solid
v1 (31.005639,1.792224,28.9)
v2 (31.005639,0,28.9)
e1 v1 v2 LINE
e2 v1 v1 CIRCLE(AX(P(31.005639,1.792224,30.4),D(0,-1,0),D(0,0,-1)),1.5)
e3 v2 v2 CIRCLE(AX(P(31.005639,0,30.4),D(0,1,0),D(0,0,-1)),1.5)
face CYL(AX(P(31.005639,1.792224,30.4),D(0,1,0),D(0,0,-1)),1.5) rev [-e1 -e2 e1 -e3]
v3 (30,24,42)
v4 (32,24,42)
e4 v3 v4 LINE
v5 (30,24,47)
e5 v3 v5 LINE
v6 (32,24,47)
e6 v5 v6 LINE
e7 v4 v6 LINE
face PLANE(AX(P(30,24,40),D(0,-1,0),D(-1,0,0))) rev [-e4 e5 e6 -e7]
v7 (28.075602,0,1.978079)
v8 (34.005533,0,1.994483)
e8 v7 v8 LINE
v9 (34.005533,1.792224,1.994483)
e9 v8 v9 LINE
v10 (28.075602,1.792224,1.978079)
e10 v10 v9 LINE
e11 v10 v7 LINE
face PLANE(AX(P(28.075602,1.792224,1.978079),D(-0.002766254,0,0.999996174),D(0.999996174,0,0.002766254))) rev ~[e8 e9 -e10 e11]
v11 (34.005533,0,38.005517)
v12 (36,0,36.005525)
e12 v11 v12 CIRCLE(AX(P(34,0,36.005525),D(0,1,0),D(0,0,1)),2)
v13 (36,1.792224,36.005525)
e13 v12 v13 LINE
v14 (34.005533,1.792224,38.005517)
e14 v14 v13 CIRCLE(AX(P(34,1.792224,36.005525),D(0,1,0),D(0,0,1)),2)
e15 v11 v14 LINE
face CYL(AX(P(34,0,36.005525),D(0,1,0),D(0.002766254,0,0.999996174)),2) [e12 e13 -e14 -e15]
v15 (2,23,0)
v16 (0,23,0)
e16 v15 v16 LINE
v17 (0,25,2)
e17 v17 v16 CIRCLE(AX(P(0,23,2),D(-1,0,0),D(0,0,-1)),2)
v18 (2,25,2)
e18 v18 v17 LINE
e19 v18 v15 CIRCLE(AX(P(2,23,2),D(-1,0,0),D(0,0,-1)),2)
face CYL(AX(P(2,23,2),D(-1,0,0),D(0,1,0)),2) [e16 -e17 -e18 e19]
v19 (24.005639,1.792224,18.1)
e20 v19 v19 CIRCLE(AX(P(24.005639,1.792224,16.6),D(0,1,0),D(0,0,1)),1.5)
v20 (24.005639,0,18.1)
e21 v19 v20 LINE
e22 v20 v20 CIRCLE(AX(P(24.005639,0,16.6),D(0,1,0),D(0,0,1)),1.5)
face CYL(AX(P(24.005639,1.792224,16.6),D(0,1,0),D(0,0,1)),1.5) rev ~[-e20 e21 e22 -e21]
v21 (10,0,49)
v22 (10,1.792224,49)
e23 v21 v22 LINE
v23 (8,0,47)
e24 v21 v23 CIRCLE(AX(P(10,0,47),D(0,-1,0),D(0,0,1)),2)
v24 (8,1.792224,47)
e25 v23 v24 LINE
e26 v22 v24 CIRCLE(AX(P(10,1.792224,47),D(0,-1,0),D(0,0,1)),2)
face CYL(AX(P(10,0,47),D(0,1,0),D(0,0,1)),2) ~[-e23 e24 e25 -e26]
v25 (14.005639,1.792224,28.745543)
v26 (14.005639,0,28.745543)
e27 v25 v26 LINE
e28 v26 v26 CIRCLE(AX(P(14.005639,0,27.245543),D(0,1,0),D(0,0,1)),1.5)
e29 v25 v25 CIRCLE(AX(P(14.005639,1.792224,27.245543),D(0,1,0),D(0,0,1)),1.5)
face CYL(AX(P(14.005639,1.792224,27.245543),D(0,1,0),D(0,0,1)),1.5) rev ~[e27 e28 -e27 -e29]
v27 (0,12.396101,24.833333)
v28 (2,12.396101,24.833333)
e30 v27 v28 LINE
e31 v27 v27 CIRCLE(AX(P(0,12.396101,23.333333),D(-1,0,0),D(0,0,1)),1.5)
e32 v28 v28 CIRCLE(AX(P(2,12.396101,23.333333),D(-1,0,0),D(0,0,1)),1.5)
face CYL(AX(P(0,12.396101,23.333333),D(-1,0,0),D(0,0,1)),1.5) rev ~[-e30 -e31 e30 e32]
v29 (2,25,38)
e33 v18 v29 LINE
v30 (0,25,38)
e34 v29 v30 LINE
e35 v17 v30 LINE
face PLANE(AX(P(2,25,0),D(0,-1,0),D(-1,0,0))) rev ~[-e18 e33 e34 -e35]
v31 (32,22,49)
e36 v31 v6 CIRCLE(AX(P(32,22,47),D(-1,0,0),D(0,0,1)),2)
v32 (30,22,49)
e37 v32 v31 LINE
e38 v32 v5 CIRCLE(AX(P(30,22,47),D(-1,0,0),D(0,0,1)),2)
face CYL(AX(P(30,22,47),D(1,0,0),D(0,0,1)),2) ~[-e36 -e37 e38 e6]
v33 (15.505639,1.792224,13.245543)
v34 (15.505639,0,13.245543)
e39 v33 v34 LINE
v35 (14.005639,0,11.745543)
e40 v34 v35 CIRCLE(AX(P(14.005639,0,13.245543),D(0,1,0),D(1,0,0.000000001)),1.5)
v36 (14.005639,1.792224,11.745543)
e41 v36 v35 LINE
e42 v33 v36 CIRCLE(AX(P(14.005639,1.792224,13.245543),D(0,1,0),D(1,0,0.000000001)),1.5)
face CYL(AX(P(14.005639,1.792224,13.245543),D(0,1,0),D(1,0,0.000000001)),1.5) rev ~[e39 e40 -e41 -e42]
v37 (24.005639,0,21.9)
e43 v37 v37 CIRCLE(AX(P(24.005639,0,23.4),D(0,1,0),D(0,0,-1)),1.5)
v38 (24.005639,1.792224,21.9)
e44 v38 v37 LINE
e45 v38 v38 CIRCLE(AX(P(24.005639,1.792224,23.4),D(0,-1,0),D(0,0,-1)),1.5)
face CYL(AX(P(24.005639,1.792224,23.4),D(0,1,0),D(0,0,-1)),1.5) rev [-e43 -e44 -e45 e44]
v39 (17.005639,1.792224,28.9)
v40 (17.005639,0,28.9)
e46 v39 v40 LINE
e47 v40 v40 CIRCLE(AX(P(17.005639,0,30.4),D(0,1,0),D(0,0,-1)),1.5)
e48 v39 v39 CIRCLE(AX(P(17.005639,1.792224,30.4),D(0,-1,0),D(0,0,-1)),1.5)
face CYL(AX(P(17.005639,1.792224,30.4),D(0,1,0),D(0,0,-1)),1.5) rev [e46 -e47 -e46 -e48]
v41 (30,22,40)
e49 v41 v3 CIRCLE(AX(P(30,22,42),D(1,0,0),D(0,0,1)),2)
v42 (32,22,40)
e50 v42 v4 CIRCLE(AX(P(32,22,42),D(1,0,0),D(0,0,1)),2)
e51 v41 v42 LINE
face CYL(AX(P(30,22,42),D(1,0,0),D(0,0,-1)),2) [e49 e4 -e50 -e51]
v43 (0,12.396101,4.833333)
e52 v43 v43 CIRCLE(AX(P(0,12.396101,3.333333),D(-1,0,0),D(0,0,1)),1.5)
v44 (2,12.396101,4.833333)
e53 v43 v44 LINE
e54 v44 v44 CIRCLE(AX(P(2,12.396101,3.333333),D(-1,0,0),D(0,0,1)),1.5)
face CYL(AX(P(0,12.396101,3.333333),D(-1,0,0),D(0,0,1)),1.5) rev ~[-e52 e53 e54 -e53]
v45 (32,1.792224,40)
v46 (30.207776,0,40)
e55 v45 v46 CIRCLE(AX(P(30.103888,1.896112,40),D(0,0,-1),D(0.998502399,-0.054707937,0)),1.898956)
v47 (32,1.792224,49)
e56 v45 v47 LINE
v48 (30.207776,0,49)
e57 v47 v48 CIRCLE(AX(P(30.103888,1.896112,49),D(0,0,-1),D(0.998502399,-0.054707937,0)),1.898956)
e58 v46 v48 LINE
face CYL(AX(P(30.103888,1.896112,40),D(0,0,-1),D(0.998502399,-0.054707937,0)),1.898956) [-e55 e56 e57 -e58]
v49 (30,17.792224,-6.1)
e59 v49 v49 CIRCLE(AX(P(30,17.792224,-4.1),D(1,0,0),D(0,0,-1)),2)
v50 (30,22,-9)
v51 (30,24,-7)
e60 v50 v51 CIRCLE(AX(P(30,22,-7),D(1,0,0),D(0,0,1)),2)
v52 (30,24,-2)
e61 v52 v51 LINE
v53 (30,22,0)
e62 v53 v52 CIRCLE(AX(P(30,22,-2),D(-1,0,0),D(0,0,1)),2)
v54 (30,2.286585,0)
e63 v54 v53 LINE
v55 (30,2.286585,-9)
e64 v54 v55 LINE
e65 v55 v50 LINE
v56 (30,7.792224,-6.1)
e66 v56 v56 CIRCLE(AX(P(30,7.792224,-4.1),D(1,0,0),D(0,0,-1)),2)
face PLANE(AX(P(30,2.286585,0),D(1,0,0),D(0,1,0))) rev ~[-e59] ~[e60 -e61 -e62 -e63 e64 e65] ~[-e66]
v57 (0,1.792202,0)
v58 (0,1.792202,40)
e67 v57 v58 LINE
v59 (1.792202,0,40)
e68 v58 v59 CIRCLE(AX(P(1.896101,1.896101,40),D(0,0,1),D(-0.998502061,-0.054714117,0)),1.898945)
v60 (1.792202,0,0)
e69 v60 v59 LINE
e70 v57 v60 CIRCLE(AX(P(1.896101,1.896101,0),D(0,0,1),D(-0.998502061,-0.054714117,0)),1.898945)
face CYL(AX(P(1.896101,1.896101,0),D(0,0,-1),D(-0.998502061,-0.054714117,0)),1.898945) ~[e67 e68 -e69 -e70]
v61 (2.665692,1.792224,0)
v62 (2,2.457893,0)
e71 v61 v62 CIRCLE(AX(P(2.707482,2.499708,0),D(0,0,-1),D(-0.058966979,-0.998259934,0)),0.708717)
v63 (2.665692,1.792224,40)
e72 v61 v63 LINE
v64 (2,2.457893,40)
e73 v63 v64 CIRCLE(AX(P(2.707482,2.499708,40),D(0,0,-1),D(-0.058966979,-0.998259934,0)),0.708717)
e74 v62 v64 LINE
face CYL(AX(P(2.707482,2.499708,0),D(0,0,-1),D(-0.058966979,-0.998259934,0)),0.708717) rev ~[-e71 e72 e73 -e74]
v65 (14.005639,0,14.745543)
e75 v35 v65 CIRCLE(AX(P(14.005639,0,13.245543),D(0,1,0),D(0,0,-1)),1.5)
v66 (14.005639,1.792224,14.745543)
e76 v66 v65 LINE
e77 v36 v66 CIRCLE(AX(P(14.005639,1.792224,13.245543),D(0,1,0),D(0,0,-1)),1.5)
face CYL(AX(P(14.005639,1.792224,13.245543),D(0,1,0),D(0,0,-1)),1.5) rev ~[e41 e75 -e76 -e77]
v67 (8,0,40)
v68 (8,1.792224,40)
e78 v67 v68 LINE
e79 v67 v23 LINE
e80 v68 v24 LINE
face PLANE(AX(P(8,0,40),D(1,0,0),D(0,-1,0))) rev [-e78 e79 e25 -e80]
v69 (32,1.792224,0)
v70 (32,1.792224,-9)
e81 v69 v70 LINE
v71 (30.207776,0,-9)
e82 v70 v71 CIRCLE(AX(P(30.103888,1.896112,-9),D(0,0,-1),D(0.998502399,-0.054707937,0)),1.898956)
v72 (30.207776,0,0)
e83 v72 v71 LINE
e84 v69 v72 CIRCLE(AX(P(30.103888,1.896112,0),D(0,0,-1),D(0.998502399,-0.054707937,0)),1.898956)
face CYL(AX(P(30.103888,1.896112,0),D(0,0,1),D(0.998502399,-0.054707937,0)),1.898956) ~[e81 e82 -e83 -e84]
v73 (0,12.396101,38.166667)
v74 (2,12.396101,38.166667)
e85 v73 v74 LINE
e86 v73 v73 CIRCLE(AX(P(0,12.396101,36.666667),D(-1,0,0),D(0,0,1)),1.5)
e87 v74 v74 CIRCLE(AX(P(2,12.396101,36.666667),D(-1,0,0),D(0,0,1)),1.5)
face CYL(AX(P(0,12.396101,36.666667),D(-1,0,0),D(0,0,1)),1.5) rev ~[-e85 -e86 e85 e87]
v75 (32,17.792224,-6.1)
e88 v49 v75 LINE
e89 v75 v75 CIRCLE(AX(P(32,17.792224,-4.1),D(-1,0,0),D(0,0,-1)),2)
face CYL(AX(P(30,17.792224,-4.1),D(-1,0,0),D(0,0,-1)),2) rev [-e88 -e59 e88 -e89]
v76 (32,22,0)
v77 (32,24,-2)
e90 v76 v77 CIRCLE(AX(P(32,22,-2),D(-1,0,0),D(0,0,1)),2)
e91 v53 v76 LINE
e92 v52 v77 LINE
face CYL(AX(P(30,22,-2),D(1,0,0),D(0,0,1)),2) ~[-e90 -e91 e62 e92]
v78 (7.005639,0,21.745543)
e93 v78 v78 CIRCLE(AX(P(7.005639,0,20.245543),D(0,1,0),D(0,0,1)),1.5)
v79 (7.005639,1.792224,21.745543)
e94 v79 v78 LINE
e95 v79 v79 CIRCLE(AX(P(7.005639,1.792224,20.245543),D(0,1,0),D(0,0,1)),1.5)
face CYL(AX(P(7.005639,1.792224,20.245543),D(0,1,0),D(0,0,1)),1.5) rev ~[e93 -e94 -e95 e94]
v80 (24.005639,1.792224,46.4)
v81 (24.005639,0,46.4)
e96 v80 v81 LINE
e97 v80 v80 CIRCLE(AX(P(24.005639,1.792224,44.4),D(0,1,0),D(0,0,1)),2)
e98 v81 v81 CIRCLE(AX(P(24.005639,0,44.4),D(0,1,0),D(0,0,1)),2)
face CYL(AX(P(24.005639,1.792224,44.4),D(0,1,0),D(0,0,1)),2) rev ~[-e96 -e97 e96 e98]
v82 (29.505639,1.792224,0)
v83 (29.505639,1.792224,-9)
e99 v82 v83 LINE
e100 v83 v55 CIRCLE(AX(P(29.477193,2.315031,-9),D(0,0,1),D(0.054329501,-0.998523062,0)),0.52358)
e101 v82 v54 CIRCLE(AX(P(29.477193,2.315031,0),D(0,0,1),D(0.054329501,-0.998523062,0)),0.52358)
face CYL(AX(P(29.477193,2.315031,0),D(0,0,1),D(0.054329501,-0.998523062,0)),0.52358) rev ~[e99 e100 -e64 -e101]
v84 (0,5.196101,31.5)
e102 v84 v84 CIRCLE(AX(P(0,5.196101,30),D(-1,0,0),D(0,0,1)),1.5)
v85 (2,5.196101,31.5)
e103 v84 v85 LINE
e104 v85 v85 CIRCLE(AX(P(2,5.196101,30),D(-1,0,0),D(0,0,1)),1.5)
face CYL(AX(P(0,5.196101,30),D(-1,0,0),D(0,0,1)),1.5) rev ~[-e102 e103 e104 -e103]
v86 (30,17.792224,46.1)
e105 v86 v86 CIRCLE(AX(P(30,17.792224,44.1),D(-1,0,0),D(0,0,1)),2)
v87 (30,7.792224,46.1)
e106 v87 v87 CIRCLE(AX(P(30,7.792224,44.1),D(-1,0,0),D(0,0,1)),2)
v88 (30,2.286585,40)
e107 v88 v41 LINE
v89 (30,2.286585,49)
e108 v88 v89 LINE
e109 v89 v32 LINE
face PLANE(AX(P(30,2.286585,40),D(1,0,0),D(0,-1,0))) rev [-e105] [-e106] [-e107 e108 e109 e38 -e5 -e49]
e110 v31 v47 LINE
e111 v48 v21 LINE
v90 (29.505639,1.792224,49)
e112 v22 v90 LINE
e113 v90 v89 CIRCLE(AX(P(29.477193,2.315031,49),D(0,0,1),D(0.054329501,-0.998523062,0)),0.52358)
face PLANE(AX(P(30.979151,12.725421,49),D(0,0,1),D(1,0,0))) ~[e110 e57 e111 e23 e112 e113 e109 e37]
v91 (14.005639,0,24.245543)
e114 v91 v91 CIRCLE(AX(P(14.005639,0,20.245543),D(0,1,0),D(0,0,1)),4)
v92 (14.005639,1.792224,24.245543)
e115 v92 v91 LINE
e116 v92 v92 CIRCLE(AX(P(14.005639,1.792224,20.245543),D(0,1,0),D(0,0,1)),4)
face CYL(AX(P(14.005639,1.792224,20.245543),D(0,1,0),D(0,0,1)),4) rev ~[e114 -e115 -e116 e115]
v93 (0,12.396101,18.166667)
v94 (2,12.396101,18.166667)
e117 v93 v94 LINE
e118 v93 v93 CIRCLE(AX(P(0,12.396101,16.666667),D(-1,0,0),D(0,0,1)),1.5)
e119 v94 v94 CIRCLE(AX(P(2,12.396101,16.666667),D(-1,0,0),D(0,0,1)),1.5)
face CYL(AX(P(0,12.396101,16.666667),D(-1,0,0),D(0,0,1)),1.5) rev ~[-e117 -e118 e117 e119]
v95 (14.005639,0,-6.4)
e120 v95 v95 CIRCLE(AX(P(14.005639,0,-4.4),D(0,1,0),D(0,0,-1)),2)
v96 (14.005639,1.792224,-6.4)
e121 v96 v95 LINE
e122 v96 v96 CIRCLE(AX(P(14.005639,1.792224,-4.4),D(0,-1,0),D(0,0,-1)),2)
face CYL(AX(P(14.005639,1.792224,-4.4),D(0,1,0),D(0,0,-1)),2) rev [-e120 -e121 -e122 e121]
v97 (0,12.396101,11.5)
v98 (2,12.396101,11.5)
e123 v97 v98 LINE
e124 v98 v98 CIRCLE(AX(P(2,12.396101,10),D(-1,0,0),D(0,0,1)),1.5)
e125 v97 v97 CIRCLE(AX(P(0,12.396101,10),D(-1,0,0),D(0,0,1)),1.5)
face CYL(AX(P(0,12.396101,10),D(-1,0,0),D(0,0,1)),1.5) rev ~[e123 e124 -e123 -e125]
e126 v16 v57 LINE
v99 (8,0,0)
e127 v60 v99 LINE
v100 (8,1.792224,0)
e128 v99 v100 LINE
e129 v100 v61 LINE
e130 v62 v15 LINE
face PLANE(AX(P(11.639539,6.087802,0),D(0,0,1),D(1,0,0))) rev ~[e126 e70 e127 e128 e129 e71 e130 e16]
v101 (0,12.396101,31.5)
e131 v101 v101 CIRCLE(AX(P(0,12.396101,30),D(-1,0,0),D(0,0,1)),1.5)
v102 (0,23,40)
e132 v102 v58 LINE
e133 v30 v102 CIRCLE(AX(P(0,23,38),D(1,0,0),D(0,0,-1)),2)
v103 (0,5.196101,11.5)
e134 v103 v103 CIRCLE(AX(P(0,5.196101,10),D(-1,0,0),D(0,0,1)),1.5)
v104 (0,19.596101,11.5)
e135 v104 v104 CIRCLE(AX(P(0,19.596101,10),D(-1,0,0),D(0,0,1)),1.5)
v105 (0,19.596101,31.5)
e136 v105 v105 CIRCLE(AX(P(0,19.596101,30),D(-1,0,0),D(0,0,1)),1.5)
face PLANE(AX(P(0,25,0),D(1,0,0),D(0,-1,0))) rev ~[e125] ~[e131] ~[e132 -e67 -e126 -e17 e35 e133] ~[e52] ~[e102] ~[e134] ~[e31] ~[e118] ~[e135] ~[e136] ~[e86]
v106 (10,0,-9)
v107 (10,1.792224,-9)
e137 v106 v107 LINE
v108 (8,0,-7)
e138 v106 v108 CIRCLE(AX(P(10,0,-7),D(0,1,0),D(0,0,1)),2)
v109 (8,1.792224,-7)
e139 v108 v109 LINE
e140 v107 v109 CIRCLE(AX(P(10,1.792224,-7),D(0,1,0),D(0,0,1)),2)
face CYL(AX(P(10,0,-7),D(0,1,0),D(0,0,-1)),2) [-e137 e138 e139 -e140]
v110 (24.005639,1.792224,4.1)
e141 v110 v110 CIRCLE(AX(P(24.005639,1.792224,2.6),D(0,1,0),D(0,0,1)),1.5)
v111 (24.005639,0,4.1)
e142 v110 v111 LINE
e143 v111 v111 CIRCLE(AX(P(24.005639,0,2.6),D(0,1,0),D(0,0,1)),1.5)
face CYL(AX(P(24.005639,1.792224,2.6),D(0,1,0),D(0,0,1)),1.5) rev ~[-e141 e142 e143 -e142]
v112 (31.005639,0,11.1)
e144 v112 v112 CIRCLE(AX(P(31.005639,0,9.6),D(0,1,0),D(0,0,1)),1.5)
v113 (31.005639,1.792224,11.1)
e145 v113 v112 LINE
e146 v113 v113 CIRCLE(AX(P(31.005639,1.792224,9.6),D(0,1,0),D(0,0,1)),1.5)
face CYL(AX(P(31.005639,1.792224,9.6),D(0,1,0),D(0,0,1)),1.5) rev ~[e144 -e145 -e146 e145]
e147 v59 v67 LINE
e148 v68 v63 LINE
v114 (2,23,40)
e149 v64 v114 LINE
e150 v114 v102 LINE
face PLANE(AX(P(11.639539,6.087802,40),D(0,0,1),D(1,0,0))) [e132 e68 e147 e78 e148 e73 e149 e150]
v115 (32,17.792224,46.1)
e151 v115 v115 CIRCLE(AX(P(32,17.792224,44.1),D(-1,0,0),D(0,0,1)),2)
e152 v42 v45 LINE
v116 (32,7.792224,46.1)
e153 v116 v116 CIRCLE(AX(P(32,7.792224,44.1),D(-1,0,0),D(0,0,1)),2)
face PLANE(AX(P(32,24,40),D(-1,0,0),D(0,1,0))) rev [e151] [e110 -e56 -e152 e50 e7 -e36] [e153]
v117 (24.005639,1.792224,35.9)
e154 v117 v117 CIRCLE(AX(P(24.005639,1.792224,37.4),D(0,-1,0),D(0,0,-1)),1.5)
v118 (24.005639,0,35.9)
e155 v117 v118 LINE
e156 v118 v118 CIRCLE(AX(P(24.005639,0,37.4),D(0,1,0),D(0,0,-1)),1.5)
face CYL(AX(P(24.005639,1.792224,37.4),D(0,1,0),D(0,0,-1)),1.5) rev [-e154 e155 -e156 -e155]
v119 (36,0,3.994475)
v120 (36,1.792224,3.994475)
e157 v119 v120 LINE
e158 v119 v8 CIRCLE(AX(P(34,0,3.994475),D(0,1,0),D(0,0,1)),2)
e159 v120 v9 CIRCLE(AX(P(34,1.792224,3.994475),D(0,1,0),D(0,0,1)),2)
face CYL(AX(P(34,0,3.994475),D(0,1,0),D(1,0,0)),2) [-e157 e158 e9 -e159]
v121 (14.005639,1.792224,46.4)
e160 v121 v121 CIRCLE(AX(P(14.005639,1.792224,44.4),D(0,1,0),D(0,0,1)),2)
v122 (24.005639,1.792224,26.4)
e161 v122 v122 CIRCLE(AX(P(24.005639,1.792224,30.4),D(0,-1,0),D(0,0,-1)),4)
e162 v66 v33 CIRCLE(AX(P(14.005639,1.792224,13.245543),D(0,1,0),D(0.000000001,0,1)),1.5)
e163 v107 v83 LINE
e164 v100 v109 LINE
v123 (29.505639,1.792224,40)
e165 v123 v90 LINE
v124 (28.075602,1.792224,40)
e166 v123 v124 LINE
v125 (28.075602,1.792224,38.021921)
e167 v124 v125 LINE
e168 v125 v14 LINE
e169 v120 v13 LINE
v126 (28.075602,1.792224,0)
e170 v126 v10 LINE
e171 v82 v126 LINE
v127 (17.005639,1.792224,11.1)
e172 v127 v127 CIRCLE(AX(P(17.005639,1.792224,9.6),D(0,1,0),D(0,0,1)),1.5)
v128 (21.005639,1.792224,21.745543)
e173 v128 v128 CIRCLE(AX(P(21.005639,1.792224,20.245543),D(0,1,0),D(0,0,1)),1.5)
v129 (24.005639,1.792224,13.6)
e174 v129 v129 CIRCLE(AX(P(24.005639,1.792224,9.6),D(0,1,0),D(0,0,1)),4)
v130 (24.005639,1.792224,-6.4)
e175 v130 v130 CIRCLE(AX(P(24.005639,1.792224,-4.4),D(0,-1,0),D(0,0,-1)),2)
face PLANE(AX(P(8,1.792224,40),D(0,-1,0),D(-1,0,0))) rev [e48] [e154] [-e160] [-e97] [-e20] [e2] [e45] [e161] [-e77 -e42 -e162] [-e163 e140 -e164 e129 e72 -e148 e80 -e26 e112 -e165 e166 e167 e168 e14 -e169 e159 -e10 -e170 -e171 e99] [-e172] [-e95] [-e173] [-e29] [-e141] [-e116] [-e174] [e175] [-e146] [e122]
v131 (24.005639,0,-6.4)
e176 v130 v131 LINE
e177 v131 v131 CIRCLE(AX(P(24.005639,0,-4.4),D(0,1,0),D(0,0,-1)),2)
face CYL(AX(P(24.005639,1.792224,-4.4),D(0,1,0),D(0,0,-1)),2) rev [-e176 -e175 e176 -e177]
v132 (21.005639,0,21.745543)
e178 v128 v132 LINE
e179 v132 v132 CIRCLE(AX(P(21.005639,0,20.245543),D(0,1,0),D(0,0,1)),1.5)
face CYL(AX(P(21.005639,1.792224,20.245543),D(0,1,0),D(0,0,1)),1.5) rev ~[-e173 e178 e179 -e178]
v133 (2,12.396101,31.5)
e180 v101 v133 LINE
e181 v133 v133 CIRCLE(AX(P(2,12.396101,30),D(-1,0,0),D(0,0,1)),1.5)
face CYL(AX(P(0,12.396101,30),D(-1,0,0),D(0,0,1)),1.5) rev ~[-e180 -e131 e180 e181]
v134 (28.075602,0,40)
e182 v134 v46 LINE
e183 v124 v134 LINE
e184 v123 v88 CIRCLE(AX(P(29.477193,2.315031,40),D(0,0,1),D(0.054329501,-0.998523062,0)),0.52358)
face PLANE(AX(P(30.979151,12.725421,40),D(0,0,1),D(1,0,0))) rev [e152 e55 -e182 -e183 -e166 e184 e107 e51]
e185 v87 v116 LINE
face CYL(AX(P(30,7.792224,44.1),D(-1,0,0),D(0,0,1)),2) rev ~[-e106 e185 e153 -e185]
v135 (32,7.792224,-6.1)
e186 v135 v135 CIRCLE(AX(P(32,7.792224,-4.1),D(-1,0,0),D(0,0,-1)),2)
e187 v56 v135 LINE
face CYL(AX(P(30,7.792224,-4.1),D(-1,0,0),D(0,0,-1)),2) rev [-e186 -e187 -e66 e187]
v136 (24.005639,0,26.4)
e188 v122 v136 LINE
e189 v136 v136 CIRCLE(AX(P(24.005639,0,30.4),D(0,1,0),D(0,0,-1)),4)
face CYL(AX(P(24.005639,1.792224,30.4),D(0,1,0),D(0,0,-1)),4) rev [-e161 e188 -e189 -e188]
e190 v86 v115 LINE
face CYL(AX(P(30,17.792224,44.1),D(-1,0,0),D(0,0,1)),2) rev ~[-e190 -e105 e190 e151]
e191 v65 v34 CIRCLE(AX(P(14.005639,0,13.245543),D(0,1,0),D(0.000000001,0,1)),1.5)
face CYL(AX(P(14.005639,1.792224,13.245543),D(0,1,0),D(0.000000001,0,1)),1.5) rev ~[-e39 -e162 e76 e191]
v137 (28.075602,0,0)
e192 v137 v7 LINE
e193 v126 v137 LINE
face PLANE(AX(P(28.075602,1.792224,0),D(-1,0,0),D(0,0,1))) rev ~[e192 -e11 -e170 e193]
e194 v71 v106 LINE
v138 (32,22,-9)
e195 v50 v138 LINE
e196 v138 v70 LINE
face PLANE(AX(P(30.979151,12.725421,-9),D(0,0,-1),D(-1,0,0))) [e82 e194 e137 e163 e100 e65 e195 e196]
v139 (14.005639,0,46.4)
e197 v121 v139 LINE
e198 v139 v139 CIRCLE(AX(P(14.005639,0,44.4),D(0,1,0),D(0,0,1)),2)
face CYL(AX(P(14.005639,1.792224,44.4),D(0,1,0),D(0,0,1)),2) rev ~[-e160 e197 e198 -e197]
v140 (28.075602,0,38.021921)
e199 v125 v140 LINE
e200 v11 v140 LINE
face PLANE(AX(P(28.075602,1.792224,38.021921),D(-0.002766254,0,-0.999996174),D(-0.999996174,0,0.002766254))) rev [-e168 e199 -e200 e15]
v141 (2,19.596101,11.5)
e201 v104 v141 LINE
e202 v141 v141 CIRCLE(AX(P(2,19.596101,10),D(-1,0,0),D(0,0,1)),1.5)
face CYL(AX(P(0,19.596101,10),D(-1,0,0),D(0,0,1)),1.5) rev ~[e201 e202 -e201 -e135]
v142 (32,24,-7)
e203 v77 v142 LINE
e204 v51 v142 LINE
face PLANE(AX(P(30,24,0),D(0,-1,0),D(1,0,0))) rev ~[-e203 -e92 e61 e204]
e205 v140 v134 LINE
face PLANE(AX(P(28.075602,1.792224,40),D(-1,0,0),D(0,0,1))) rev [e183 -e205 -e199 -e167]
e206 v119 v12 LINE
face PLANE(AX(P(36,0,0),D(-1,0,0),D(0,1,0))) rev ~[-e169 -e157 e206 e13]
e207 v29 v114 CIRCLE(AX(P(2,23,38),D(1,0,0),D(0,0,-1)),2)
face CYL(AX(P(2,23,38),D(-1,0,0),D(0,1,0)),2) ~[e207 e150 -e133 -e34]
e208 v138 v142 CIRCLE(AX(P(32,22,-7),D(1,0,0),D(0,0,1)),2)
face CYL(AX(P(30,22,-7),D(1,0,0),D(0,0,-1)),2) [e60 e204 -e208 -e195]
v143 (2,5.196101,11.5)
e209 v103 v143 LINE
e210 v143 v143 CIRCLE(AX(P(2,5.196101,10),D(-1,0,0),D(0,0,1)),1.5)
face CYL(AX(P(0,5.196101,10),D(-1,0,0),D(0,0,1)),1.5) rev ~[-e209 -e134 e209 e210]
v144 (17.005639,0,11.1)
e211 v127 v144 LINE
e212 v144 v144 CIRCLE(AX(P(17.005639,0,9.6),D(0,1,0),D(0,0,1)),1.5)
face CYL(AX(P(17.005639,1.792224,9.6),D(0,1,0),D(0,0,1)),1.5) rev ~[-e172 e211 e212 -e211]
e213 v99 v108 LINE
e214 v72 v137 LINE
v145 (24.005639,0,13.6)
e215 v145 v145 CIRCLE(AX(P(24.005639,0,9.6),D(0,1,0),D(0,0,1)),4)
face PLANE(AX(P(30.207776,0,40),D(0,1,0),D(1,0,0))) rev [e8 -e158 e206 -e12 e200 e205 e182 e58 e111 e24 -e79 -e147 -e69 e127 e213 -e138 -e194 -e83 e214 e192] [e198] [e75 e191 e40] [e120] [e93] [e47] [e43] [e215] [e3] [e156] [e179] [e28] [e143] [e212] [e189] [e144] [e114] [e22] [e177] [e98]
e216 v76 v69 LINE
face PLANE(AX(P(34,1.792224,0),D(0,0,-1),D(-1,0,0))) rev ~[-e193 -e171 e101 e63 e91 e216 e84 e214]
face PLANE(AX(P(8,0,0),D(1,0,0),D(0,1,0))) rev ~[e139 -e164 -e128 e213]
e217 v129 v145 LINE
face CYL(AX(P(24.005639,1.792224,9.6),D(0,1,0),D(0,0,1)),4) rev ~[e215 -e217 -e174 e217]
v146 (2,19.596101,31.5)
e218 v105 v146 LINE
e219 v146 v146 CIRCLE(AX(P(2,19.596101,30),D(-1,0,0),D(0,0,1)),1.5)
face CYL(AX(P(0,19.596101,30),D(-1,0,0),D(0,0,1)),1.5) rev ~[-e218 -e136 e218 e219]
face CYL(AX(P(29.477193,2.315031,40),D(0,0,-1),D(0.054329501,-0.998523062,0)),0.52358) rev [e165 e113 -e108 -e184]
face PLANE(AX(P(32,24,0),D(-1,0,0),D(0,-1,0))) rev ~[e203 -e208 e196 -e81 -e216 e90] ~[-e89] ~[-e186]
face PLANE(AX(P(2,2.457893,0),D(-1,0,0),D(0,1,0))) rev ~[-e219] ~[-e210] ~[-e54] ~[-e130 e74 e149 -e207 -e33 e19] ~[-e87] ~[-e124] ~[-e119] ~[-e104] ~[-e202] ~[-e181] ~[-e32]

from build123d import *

# Parameters (mm, degrees)
BOSS_EXTRUDE1_DEPTH  = 40
FILLET1_R            = 2
BOSS_EXTRUDE2_DEPTH  = 9
FILLET2_R            = 2
CUT_EXTRUDE1_DEPTH   = 9
FILLET3_R            = 2
FILLET2_OF_MIRROR3_R = 2
FILLET3_OF_MIRROR3_R = 2
SKETCH5_R            = 1.5
CUT_EXTRUDE2_DEPTH   = 9
SKETCH7_R            = 2
CUT_EXTRUDE3_DEPTH   = 9
SKETCH8_R            = 2
CUT_EXTRUDE4_DEPTH   = 9
SKETCH9_R            = 4
SKETCH9_R_2          = 1.5
CUT_EXTRUDE5_DEPTH   = 9
SKETCH10_R           = 1.5
SKETCH10_R_2         = 4
CUT_EXTRUDE6_DEPTH   = 9


with BuildPart() as part:
    # Sketch2 → Boss-Extrude1 (new body)
    with BuildSketch(Plane.XY):
        with BuildLine():
            ThreePointArc((0, 1.792201759), (0.553343721, 0.553343721), (1.792201759, 0))
            Line((1.792201759, 0), (2, 0))
            Line((2, 0), (36, 0))
            Line((36, 0), (36, 1.792224077))
            Line((36, 1.792224077), (2.665691545, 1.792224077))
            ThreePointArc((2.665691545, 1.792224077), (2.206352155, 1.99856094), (2, 2.45789346))
            Line((2, 2.45789346), (2, 25))
            Line((2, 25), (0, 25))
            Line((0, 25), (0, 1.792201759))
        make_face()
    extrude(amount=BOSS_EXTRUDE1_DEPTH)

    # Fillet1
    fillet1_edges = [part.edges().sort_by_distance(p)[0] for p in [
        (36, 0.896112038, 0),
        (1, 25, 0),
        (1, 25, 40),
        (36, 0.896112038, 40),
    ]]
    fillet(fillet1_edges, radius=FILLET1_R)

    # Sketch3 → Boss-Extrude2 (add)
    with BuildSketch(Plane(origin=(0, 0, 0), x_dir=(-1, 0, 0), z_dir=(0, 0, -1))):
        with BuildLine():
            Line((-32, 1.792224077), (-29.505638958, 1.792224077))
            ThreePointArc((-29.505638958, 1.792224077), (-29.847420209, 1.944803868), (-30, 2.286585119))
            Line((-30, 2.286585119), (-30, 24))
            Line((-30, 24), (-32, 24))
            Line((-32, 24), (-32, 1.792224077))
        make_face()
        with BuildLine():
            Line((-8, 0), (-8, 1.792224077))
            Line((-8, 1.792224077), (-29.505638958, 1.792224077))
            Line((-29.505638958, 1.792224077), (-32, 1.792224077))
            ThreePointArc((-32, 1.792224077), (-31.446652567, 0.553347433), (-30.207775923, 0))
            Line((-30.207775923, 0), (-30, 0))
            Line((-30, 0), (-8, 0))
        make_face()
    boss_extrude2 = extrude(amount=BOSS_EXTRUDE2_DEPTH)

    # Fillet2
    fillet2_edges = [part.edges().sort_by_distance(p)[0] for p in [
        (8, 0.896112038, -9),
        (31, 24, -9),
        (31, 24, 0),
    ]]
    fillet(fillet2_edges, radius=FILLET2_R)

    # Sketch4 → Cut-Extrude1 (cut)
    with BuildSketch(Plane(origin=(0, 1.792224077, 0), x_dir=(1, 0, 0), z_dir=(0, 1, 0))):
        with BuildLine():
            Line((28.075602478, 0), (28.075602478, -1.97807902))
            Line((28.075602478, -1.97807902), (36, -2))
            ThreePointArc((36, -2), (35.415834928, -0.584165072), (34, 0))
            Line((34, 0), (28.075602478, 0))
        make_face()
    cut_extrude1 = extrude(amount=-CUT_EXTRUDE1_DEPTH, mode=Mode.SUBTRACT)

    # Fillet3
    fillet3_edges = [part.edges().sort_by_distance(p)[0] for p in [
        (36, 0.896112038, 2),
    ]]
    fillet(fillet3_edges, radius=FILLET3_R)

    # Mirror3: Boss-Extrude2, Cut-Extrude1 across plane
    add(boss_extrude2.mirror(Plane(origin=(0, 0, 20), x_dir=(1, 0, 0), z_dir=(0, 0, -1))))
    add(cut_extrude1.mirror(Plane(origin=(0, 0, 20), x_dir=(1, 0, 0), z_dir=(0, 0, -1))), mode=Mode.SUBTRACT)

    # Fillet2 of Mirror3
    fillet2_of_mirror3_edges = [part.edges().sort_by_distance(p)[0] for p in [
        (8, 0.896112038, 49),
        (31, 24, 49),
        (31, 24, 40),
    ]]
    fillet(fillet2_of_mirror3_edges, radius=FILLET2_OF_MIRROR3_R)

    # Fillet3 of Mirror3
    fillet3_of_mirror3_edges = [part.edges().sort_by_distance(p)[0] for p in [
        (36, 0.896112038, 38),
    ]]
    fillet(fillet3_of_mirror3_edges, radius=FILLET3_OF_MIRROR3_R)

    # Sketch5 → Cut-Extrude2 (cut)
    with BuildSketch(Plane.ZY):
        with Locations((36.666666667, 12.396100879)):
            Circle(SKETCH5_R)
        with Locations((30, 12.396100879)):
            Circle(SKETCH5_R)
        with Locations((23.333333333, 12.396100879)):
            Circle(SKETCH5_R)
        with Locations((16.666666667, 12.396100879)):
            Circle(SKETCH5_R)
        with Locations((10, 12.396100879)):
            Circle(SKETCH5_R)
        with Locations((3.333333333, 12.396100879)):
            Circle(SKETCH5_R)
        with Locations((30, 19.596100879)):
            Circle(SKETCH5_R)
        with Locations((30, 5.196100879)):
            Circle(SKETCH5_R)
        with Locations((10, 19.596100879)):
            Circle(SKETCH5_R)
        with Locations((10, 5.196100879)):
            Circle(SKETCH5_R)
    extrude(amount=-CUT_EXTRUDE2_DEPTH, mode=Mode.SUBTRACT)

    # Sketch7 → Cut-Extrude3 (cut)
    with BuildSketch(Plane(origin=(0, 1.792224077, 0), x_dir=(1, 0, 0), z_dir=(0, 1, 0))):
        with Locations(Location((24.005638958, -44.4, 0), (0, 0, 270))):
            Circle(SKETCH7_R)
        with Locations(Location((14.005638958, -44.4, 0), (0, 0, 270))):
            Circle(SKETCH7_R)
    cut_extrude3 = extrude(amount=-CUT_EXTRUDE3_DEPTH, mode=Mode.SUBTRACT)

    # Mirror4: Cut-Extrude3 across plane
    add(cut_extrude3.mirror(Plane(origin=(0, 0, 20), x_dir=(1, 0, 0), z_dir=(0, 0, -1))), mode=Mode.SUBTRACT)

    # Sketch8 → Cut-Extrude4 (cut)
    with BuildSketch(Plane.ZY.offset(-30)):
        with Locations((44.1, 17.792224077)):
            Circle(SKETCH8_R)
        with Locations((44.1, 7.792224077)):
            Circle(SKETCH8_R)
    cut_extrude4 = extrude(amount=-CUT_EXTRUDE4_DEPTH, mode=Mode.SUBTRACT)

    # Mirror5: Cut-Extrude4 across plane
    add(cut_extrude4.mirror(Plane(origin=(0, 0, 20), x_dir=(1, 0, 0), z_dir=(0, 0, -1))), mode=Mode.SUBTRACT)

    # Sketch9 → Cut-Extrude5 (cut)
    with BuildSketch(Plane(origin=(0, 1.792224077, 0), x_dir=(1, 0, 0), z_dir=(0, 1, 0))):
        with Locations(Location((24.005638958, -9.6, 0), (0, 0, 270))):
            Circle(SKETCH9_R)
        with Locations(Location((24.005638958, -2.6, 0), (0, 0, 270))):
            Circle(SKETCH9_R_2)
        with Locations(Location((31.005638958, -9.6, 0), (0, 0, 270))):
            Circle(SKETCH9_R_2)
        with Locations(Location((24.005638958, -16.6, 0), (0, 0, 270))):
            Circle(SKETCH9_R_2)
        with Locations(Location((17.005638958, -9.6, 0), (0, 0, 270))):
            Circle(SKETCH9_R_2)
    cut_extrude5 = extrude(amount=-CUT_EXTRUDE5_DEPTH, mode=Mode.SUBTRACT)

    # Mirror6: Cut-Extrude5 across plane
    add(cut_extrude5.mirror(Plane(origin=(0, 0, 20), x_dir=(1, 0, 0), z_dir=(0, 0, -1))), mode=Mode.SUBTRACT)

    # Sketch10 → Cut-Extrude6 (cut)
    with BuildSketch(Plane(origin=(0, 1.792224077, 0), x_dir=(1, 0, 0), z_dir=(0, 1, 0))):
        with BuildLine():
            ThreePointArc((15.505638958, -13.245543245), (15.06629913, -12.184883073), (14.005638958, -11.745543245))
            Line((14.005638958, -11.745543245), (14.005638958, -14.745543245))
            ThreePointArc((14.005638958, -14.745543245), (15.06629913, -14.306203416), (15.505638958, -13.245543245))
        make_face()
        with BuildLine():
            Line((14.005638958, -14.745543245), (14.005638958, -11.745543245))
            ThreePointArc((14.005638958, -11.745543245), (12.505638958, -13.245543245), (14.005638958, -14.745543245))
        make_face()
        with Locations(Location((7.005638958, -20.245543245, 0), (0, 0, 270))):
            Circle(SKETCH10_R)
        with Locations(Location((21.005638958, -20.245543245, 0), (0, 0, 270))):
            Circle(SKETCH10_R)
        with Locations(Location((14.005638958, -27.245543245, 0), (0, 0, 270))):
            Circle(SKETCH10_R)
        with Locations(Location((14.005638958, -20.245543245, 0), (0, 0, 270))):
            Circle(SKETCH10_R_2)
    extrude(amount=-CUT_EXTRUDE6_DEPTH, mode=Mode.SUBTRACT)


solid = part.part
